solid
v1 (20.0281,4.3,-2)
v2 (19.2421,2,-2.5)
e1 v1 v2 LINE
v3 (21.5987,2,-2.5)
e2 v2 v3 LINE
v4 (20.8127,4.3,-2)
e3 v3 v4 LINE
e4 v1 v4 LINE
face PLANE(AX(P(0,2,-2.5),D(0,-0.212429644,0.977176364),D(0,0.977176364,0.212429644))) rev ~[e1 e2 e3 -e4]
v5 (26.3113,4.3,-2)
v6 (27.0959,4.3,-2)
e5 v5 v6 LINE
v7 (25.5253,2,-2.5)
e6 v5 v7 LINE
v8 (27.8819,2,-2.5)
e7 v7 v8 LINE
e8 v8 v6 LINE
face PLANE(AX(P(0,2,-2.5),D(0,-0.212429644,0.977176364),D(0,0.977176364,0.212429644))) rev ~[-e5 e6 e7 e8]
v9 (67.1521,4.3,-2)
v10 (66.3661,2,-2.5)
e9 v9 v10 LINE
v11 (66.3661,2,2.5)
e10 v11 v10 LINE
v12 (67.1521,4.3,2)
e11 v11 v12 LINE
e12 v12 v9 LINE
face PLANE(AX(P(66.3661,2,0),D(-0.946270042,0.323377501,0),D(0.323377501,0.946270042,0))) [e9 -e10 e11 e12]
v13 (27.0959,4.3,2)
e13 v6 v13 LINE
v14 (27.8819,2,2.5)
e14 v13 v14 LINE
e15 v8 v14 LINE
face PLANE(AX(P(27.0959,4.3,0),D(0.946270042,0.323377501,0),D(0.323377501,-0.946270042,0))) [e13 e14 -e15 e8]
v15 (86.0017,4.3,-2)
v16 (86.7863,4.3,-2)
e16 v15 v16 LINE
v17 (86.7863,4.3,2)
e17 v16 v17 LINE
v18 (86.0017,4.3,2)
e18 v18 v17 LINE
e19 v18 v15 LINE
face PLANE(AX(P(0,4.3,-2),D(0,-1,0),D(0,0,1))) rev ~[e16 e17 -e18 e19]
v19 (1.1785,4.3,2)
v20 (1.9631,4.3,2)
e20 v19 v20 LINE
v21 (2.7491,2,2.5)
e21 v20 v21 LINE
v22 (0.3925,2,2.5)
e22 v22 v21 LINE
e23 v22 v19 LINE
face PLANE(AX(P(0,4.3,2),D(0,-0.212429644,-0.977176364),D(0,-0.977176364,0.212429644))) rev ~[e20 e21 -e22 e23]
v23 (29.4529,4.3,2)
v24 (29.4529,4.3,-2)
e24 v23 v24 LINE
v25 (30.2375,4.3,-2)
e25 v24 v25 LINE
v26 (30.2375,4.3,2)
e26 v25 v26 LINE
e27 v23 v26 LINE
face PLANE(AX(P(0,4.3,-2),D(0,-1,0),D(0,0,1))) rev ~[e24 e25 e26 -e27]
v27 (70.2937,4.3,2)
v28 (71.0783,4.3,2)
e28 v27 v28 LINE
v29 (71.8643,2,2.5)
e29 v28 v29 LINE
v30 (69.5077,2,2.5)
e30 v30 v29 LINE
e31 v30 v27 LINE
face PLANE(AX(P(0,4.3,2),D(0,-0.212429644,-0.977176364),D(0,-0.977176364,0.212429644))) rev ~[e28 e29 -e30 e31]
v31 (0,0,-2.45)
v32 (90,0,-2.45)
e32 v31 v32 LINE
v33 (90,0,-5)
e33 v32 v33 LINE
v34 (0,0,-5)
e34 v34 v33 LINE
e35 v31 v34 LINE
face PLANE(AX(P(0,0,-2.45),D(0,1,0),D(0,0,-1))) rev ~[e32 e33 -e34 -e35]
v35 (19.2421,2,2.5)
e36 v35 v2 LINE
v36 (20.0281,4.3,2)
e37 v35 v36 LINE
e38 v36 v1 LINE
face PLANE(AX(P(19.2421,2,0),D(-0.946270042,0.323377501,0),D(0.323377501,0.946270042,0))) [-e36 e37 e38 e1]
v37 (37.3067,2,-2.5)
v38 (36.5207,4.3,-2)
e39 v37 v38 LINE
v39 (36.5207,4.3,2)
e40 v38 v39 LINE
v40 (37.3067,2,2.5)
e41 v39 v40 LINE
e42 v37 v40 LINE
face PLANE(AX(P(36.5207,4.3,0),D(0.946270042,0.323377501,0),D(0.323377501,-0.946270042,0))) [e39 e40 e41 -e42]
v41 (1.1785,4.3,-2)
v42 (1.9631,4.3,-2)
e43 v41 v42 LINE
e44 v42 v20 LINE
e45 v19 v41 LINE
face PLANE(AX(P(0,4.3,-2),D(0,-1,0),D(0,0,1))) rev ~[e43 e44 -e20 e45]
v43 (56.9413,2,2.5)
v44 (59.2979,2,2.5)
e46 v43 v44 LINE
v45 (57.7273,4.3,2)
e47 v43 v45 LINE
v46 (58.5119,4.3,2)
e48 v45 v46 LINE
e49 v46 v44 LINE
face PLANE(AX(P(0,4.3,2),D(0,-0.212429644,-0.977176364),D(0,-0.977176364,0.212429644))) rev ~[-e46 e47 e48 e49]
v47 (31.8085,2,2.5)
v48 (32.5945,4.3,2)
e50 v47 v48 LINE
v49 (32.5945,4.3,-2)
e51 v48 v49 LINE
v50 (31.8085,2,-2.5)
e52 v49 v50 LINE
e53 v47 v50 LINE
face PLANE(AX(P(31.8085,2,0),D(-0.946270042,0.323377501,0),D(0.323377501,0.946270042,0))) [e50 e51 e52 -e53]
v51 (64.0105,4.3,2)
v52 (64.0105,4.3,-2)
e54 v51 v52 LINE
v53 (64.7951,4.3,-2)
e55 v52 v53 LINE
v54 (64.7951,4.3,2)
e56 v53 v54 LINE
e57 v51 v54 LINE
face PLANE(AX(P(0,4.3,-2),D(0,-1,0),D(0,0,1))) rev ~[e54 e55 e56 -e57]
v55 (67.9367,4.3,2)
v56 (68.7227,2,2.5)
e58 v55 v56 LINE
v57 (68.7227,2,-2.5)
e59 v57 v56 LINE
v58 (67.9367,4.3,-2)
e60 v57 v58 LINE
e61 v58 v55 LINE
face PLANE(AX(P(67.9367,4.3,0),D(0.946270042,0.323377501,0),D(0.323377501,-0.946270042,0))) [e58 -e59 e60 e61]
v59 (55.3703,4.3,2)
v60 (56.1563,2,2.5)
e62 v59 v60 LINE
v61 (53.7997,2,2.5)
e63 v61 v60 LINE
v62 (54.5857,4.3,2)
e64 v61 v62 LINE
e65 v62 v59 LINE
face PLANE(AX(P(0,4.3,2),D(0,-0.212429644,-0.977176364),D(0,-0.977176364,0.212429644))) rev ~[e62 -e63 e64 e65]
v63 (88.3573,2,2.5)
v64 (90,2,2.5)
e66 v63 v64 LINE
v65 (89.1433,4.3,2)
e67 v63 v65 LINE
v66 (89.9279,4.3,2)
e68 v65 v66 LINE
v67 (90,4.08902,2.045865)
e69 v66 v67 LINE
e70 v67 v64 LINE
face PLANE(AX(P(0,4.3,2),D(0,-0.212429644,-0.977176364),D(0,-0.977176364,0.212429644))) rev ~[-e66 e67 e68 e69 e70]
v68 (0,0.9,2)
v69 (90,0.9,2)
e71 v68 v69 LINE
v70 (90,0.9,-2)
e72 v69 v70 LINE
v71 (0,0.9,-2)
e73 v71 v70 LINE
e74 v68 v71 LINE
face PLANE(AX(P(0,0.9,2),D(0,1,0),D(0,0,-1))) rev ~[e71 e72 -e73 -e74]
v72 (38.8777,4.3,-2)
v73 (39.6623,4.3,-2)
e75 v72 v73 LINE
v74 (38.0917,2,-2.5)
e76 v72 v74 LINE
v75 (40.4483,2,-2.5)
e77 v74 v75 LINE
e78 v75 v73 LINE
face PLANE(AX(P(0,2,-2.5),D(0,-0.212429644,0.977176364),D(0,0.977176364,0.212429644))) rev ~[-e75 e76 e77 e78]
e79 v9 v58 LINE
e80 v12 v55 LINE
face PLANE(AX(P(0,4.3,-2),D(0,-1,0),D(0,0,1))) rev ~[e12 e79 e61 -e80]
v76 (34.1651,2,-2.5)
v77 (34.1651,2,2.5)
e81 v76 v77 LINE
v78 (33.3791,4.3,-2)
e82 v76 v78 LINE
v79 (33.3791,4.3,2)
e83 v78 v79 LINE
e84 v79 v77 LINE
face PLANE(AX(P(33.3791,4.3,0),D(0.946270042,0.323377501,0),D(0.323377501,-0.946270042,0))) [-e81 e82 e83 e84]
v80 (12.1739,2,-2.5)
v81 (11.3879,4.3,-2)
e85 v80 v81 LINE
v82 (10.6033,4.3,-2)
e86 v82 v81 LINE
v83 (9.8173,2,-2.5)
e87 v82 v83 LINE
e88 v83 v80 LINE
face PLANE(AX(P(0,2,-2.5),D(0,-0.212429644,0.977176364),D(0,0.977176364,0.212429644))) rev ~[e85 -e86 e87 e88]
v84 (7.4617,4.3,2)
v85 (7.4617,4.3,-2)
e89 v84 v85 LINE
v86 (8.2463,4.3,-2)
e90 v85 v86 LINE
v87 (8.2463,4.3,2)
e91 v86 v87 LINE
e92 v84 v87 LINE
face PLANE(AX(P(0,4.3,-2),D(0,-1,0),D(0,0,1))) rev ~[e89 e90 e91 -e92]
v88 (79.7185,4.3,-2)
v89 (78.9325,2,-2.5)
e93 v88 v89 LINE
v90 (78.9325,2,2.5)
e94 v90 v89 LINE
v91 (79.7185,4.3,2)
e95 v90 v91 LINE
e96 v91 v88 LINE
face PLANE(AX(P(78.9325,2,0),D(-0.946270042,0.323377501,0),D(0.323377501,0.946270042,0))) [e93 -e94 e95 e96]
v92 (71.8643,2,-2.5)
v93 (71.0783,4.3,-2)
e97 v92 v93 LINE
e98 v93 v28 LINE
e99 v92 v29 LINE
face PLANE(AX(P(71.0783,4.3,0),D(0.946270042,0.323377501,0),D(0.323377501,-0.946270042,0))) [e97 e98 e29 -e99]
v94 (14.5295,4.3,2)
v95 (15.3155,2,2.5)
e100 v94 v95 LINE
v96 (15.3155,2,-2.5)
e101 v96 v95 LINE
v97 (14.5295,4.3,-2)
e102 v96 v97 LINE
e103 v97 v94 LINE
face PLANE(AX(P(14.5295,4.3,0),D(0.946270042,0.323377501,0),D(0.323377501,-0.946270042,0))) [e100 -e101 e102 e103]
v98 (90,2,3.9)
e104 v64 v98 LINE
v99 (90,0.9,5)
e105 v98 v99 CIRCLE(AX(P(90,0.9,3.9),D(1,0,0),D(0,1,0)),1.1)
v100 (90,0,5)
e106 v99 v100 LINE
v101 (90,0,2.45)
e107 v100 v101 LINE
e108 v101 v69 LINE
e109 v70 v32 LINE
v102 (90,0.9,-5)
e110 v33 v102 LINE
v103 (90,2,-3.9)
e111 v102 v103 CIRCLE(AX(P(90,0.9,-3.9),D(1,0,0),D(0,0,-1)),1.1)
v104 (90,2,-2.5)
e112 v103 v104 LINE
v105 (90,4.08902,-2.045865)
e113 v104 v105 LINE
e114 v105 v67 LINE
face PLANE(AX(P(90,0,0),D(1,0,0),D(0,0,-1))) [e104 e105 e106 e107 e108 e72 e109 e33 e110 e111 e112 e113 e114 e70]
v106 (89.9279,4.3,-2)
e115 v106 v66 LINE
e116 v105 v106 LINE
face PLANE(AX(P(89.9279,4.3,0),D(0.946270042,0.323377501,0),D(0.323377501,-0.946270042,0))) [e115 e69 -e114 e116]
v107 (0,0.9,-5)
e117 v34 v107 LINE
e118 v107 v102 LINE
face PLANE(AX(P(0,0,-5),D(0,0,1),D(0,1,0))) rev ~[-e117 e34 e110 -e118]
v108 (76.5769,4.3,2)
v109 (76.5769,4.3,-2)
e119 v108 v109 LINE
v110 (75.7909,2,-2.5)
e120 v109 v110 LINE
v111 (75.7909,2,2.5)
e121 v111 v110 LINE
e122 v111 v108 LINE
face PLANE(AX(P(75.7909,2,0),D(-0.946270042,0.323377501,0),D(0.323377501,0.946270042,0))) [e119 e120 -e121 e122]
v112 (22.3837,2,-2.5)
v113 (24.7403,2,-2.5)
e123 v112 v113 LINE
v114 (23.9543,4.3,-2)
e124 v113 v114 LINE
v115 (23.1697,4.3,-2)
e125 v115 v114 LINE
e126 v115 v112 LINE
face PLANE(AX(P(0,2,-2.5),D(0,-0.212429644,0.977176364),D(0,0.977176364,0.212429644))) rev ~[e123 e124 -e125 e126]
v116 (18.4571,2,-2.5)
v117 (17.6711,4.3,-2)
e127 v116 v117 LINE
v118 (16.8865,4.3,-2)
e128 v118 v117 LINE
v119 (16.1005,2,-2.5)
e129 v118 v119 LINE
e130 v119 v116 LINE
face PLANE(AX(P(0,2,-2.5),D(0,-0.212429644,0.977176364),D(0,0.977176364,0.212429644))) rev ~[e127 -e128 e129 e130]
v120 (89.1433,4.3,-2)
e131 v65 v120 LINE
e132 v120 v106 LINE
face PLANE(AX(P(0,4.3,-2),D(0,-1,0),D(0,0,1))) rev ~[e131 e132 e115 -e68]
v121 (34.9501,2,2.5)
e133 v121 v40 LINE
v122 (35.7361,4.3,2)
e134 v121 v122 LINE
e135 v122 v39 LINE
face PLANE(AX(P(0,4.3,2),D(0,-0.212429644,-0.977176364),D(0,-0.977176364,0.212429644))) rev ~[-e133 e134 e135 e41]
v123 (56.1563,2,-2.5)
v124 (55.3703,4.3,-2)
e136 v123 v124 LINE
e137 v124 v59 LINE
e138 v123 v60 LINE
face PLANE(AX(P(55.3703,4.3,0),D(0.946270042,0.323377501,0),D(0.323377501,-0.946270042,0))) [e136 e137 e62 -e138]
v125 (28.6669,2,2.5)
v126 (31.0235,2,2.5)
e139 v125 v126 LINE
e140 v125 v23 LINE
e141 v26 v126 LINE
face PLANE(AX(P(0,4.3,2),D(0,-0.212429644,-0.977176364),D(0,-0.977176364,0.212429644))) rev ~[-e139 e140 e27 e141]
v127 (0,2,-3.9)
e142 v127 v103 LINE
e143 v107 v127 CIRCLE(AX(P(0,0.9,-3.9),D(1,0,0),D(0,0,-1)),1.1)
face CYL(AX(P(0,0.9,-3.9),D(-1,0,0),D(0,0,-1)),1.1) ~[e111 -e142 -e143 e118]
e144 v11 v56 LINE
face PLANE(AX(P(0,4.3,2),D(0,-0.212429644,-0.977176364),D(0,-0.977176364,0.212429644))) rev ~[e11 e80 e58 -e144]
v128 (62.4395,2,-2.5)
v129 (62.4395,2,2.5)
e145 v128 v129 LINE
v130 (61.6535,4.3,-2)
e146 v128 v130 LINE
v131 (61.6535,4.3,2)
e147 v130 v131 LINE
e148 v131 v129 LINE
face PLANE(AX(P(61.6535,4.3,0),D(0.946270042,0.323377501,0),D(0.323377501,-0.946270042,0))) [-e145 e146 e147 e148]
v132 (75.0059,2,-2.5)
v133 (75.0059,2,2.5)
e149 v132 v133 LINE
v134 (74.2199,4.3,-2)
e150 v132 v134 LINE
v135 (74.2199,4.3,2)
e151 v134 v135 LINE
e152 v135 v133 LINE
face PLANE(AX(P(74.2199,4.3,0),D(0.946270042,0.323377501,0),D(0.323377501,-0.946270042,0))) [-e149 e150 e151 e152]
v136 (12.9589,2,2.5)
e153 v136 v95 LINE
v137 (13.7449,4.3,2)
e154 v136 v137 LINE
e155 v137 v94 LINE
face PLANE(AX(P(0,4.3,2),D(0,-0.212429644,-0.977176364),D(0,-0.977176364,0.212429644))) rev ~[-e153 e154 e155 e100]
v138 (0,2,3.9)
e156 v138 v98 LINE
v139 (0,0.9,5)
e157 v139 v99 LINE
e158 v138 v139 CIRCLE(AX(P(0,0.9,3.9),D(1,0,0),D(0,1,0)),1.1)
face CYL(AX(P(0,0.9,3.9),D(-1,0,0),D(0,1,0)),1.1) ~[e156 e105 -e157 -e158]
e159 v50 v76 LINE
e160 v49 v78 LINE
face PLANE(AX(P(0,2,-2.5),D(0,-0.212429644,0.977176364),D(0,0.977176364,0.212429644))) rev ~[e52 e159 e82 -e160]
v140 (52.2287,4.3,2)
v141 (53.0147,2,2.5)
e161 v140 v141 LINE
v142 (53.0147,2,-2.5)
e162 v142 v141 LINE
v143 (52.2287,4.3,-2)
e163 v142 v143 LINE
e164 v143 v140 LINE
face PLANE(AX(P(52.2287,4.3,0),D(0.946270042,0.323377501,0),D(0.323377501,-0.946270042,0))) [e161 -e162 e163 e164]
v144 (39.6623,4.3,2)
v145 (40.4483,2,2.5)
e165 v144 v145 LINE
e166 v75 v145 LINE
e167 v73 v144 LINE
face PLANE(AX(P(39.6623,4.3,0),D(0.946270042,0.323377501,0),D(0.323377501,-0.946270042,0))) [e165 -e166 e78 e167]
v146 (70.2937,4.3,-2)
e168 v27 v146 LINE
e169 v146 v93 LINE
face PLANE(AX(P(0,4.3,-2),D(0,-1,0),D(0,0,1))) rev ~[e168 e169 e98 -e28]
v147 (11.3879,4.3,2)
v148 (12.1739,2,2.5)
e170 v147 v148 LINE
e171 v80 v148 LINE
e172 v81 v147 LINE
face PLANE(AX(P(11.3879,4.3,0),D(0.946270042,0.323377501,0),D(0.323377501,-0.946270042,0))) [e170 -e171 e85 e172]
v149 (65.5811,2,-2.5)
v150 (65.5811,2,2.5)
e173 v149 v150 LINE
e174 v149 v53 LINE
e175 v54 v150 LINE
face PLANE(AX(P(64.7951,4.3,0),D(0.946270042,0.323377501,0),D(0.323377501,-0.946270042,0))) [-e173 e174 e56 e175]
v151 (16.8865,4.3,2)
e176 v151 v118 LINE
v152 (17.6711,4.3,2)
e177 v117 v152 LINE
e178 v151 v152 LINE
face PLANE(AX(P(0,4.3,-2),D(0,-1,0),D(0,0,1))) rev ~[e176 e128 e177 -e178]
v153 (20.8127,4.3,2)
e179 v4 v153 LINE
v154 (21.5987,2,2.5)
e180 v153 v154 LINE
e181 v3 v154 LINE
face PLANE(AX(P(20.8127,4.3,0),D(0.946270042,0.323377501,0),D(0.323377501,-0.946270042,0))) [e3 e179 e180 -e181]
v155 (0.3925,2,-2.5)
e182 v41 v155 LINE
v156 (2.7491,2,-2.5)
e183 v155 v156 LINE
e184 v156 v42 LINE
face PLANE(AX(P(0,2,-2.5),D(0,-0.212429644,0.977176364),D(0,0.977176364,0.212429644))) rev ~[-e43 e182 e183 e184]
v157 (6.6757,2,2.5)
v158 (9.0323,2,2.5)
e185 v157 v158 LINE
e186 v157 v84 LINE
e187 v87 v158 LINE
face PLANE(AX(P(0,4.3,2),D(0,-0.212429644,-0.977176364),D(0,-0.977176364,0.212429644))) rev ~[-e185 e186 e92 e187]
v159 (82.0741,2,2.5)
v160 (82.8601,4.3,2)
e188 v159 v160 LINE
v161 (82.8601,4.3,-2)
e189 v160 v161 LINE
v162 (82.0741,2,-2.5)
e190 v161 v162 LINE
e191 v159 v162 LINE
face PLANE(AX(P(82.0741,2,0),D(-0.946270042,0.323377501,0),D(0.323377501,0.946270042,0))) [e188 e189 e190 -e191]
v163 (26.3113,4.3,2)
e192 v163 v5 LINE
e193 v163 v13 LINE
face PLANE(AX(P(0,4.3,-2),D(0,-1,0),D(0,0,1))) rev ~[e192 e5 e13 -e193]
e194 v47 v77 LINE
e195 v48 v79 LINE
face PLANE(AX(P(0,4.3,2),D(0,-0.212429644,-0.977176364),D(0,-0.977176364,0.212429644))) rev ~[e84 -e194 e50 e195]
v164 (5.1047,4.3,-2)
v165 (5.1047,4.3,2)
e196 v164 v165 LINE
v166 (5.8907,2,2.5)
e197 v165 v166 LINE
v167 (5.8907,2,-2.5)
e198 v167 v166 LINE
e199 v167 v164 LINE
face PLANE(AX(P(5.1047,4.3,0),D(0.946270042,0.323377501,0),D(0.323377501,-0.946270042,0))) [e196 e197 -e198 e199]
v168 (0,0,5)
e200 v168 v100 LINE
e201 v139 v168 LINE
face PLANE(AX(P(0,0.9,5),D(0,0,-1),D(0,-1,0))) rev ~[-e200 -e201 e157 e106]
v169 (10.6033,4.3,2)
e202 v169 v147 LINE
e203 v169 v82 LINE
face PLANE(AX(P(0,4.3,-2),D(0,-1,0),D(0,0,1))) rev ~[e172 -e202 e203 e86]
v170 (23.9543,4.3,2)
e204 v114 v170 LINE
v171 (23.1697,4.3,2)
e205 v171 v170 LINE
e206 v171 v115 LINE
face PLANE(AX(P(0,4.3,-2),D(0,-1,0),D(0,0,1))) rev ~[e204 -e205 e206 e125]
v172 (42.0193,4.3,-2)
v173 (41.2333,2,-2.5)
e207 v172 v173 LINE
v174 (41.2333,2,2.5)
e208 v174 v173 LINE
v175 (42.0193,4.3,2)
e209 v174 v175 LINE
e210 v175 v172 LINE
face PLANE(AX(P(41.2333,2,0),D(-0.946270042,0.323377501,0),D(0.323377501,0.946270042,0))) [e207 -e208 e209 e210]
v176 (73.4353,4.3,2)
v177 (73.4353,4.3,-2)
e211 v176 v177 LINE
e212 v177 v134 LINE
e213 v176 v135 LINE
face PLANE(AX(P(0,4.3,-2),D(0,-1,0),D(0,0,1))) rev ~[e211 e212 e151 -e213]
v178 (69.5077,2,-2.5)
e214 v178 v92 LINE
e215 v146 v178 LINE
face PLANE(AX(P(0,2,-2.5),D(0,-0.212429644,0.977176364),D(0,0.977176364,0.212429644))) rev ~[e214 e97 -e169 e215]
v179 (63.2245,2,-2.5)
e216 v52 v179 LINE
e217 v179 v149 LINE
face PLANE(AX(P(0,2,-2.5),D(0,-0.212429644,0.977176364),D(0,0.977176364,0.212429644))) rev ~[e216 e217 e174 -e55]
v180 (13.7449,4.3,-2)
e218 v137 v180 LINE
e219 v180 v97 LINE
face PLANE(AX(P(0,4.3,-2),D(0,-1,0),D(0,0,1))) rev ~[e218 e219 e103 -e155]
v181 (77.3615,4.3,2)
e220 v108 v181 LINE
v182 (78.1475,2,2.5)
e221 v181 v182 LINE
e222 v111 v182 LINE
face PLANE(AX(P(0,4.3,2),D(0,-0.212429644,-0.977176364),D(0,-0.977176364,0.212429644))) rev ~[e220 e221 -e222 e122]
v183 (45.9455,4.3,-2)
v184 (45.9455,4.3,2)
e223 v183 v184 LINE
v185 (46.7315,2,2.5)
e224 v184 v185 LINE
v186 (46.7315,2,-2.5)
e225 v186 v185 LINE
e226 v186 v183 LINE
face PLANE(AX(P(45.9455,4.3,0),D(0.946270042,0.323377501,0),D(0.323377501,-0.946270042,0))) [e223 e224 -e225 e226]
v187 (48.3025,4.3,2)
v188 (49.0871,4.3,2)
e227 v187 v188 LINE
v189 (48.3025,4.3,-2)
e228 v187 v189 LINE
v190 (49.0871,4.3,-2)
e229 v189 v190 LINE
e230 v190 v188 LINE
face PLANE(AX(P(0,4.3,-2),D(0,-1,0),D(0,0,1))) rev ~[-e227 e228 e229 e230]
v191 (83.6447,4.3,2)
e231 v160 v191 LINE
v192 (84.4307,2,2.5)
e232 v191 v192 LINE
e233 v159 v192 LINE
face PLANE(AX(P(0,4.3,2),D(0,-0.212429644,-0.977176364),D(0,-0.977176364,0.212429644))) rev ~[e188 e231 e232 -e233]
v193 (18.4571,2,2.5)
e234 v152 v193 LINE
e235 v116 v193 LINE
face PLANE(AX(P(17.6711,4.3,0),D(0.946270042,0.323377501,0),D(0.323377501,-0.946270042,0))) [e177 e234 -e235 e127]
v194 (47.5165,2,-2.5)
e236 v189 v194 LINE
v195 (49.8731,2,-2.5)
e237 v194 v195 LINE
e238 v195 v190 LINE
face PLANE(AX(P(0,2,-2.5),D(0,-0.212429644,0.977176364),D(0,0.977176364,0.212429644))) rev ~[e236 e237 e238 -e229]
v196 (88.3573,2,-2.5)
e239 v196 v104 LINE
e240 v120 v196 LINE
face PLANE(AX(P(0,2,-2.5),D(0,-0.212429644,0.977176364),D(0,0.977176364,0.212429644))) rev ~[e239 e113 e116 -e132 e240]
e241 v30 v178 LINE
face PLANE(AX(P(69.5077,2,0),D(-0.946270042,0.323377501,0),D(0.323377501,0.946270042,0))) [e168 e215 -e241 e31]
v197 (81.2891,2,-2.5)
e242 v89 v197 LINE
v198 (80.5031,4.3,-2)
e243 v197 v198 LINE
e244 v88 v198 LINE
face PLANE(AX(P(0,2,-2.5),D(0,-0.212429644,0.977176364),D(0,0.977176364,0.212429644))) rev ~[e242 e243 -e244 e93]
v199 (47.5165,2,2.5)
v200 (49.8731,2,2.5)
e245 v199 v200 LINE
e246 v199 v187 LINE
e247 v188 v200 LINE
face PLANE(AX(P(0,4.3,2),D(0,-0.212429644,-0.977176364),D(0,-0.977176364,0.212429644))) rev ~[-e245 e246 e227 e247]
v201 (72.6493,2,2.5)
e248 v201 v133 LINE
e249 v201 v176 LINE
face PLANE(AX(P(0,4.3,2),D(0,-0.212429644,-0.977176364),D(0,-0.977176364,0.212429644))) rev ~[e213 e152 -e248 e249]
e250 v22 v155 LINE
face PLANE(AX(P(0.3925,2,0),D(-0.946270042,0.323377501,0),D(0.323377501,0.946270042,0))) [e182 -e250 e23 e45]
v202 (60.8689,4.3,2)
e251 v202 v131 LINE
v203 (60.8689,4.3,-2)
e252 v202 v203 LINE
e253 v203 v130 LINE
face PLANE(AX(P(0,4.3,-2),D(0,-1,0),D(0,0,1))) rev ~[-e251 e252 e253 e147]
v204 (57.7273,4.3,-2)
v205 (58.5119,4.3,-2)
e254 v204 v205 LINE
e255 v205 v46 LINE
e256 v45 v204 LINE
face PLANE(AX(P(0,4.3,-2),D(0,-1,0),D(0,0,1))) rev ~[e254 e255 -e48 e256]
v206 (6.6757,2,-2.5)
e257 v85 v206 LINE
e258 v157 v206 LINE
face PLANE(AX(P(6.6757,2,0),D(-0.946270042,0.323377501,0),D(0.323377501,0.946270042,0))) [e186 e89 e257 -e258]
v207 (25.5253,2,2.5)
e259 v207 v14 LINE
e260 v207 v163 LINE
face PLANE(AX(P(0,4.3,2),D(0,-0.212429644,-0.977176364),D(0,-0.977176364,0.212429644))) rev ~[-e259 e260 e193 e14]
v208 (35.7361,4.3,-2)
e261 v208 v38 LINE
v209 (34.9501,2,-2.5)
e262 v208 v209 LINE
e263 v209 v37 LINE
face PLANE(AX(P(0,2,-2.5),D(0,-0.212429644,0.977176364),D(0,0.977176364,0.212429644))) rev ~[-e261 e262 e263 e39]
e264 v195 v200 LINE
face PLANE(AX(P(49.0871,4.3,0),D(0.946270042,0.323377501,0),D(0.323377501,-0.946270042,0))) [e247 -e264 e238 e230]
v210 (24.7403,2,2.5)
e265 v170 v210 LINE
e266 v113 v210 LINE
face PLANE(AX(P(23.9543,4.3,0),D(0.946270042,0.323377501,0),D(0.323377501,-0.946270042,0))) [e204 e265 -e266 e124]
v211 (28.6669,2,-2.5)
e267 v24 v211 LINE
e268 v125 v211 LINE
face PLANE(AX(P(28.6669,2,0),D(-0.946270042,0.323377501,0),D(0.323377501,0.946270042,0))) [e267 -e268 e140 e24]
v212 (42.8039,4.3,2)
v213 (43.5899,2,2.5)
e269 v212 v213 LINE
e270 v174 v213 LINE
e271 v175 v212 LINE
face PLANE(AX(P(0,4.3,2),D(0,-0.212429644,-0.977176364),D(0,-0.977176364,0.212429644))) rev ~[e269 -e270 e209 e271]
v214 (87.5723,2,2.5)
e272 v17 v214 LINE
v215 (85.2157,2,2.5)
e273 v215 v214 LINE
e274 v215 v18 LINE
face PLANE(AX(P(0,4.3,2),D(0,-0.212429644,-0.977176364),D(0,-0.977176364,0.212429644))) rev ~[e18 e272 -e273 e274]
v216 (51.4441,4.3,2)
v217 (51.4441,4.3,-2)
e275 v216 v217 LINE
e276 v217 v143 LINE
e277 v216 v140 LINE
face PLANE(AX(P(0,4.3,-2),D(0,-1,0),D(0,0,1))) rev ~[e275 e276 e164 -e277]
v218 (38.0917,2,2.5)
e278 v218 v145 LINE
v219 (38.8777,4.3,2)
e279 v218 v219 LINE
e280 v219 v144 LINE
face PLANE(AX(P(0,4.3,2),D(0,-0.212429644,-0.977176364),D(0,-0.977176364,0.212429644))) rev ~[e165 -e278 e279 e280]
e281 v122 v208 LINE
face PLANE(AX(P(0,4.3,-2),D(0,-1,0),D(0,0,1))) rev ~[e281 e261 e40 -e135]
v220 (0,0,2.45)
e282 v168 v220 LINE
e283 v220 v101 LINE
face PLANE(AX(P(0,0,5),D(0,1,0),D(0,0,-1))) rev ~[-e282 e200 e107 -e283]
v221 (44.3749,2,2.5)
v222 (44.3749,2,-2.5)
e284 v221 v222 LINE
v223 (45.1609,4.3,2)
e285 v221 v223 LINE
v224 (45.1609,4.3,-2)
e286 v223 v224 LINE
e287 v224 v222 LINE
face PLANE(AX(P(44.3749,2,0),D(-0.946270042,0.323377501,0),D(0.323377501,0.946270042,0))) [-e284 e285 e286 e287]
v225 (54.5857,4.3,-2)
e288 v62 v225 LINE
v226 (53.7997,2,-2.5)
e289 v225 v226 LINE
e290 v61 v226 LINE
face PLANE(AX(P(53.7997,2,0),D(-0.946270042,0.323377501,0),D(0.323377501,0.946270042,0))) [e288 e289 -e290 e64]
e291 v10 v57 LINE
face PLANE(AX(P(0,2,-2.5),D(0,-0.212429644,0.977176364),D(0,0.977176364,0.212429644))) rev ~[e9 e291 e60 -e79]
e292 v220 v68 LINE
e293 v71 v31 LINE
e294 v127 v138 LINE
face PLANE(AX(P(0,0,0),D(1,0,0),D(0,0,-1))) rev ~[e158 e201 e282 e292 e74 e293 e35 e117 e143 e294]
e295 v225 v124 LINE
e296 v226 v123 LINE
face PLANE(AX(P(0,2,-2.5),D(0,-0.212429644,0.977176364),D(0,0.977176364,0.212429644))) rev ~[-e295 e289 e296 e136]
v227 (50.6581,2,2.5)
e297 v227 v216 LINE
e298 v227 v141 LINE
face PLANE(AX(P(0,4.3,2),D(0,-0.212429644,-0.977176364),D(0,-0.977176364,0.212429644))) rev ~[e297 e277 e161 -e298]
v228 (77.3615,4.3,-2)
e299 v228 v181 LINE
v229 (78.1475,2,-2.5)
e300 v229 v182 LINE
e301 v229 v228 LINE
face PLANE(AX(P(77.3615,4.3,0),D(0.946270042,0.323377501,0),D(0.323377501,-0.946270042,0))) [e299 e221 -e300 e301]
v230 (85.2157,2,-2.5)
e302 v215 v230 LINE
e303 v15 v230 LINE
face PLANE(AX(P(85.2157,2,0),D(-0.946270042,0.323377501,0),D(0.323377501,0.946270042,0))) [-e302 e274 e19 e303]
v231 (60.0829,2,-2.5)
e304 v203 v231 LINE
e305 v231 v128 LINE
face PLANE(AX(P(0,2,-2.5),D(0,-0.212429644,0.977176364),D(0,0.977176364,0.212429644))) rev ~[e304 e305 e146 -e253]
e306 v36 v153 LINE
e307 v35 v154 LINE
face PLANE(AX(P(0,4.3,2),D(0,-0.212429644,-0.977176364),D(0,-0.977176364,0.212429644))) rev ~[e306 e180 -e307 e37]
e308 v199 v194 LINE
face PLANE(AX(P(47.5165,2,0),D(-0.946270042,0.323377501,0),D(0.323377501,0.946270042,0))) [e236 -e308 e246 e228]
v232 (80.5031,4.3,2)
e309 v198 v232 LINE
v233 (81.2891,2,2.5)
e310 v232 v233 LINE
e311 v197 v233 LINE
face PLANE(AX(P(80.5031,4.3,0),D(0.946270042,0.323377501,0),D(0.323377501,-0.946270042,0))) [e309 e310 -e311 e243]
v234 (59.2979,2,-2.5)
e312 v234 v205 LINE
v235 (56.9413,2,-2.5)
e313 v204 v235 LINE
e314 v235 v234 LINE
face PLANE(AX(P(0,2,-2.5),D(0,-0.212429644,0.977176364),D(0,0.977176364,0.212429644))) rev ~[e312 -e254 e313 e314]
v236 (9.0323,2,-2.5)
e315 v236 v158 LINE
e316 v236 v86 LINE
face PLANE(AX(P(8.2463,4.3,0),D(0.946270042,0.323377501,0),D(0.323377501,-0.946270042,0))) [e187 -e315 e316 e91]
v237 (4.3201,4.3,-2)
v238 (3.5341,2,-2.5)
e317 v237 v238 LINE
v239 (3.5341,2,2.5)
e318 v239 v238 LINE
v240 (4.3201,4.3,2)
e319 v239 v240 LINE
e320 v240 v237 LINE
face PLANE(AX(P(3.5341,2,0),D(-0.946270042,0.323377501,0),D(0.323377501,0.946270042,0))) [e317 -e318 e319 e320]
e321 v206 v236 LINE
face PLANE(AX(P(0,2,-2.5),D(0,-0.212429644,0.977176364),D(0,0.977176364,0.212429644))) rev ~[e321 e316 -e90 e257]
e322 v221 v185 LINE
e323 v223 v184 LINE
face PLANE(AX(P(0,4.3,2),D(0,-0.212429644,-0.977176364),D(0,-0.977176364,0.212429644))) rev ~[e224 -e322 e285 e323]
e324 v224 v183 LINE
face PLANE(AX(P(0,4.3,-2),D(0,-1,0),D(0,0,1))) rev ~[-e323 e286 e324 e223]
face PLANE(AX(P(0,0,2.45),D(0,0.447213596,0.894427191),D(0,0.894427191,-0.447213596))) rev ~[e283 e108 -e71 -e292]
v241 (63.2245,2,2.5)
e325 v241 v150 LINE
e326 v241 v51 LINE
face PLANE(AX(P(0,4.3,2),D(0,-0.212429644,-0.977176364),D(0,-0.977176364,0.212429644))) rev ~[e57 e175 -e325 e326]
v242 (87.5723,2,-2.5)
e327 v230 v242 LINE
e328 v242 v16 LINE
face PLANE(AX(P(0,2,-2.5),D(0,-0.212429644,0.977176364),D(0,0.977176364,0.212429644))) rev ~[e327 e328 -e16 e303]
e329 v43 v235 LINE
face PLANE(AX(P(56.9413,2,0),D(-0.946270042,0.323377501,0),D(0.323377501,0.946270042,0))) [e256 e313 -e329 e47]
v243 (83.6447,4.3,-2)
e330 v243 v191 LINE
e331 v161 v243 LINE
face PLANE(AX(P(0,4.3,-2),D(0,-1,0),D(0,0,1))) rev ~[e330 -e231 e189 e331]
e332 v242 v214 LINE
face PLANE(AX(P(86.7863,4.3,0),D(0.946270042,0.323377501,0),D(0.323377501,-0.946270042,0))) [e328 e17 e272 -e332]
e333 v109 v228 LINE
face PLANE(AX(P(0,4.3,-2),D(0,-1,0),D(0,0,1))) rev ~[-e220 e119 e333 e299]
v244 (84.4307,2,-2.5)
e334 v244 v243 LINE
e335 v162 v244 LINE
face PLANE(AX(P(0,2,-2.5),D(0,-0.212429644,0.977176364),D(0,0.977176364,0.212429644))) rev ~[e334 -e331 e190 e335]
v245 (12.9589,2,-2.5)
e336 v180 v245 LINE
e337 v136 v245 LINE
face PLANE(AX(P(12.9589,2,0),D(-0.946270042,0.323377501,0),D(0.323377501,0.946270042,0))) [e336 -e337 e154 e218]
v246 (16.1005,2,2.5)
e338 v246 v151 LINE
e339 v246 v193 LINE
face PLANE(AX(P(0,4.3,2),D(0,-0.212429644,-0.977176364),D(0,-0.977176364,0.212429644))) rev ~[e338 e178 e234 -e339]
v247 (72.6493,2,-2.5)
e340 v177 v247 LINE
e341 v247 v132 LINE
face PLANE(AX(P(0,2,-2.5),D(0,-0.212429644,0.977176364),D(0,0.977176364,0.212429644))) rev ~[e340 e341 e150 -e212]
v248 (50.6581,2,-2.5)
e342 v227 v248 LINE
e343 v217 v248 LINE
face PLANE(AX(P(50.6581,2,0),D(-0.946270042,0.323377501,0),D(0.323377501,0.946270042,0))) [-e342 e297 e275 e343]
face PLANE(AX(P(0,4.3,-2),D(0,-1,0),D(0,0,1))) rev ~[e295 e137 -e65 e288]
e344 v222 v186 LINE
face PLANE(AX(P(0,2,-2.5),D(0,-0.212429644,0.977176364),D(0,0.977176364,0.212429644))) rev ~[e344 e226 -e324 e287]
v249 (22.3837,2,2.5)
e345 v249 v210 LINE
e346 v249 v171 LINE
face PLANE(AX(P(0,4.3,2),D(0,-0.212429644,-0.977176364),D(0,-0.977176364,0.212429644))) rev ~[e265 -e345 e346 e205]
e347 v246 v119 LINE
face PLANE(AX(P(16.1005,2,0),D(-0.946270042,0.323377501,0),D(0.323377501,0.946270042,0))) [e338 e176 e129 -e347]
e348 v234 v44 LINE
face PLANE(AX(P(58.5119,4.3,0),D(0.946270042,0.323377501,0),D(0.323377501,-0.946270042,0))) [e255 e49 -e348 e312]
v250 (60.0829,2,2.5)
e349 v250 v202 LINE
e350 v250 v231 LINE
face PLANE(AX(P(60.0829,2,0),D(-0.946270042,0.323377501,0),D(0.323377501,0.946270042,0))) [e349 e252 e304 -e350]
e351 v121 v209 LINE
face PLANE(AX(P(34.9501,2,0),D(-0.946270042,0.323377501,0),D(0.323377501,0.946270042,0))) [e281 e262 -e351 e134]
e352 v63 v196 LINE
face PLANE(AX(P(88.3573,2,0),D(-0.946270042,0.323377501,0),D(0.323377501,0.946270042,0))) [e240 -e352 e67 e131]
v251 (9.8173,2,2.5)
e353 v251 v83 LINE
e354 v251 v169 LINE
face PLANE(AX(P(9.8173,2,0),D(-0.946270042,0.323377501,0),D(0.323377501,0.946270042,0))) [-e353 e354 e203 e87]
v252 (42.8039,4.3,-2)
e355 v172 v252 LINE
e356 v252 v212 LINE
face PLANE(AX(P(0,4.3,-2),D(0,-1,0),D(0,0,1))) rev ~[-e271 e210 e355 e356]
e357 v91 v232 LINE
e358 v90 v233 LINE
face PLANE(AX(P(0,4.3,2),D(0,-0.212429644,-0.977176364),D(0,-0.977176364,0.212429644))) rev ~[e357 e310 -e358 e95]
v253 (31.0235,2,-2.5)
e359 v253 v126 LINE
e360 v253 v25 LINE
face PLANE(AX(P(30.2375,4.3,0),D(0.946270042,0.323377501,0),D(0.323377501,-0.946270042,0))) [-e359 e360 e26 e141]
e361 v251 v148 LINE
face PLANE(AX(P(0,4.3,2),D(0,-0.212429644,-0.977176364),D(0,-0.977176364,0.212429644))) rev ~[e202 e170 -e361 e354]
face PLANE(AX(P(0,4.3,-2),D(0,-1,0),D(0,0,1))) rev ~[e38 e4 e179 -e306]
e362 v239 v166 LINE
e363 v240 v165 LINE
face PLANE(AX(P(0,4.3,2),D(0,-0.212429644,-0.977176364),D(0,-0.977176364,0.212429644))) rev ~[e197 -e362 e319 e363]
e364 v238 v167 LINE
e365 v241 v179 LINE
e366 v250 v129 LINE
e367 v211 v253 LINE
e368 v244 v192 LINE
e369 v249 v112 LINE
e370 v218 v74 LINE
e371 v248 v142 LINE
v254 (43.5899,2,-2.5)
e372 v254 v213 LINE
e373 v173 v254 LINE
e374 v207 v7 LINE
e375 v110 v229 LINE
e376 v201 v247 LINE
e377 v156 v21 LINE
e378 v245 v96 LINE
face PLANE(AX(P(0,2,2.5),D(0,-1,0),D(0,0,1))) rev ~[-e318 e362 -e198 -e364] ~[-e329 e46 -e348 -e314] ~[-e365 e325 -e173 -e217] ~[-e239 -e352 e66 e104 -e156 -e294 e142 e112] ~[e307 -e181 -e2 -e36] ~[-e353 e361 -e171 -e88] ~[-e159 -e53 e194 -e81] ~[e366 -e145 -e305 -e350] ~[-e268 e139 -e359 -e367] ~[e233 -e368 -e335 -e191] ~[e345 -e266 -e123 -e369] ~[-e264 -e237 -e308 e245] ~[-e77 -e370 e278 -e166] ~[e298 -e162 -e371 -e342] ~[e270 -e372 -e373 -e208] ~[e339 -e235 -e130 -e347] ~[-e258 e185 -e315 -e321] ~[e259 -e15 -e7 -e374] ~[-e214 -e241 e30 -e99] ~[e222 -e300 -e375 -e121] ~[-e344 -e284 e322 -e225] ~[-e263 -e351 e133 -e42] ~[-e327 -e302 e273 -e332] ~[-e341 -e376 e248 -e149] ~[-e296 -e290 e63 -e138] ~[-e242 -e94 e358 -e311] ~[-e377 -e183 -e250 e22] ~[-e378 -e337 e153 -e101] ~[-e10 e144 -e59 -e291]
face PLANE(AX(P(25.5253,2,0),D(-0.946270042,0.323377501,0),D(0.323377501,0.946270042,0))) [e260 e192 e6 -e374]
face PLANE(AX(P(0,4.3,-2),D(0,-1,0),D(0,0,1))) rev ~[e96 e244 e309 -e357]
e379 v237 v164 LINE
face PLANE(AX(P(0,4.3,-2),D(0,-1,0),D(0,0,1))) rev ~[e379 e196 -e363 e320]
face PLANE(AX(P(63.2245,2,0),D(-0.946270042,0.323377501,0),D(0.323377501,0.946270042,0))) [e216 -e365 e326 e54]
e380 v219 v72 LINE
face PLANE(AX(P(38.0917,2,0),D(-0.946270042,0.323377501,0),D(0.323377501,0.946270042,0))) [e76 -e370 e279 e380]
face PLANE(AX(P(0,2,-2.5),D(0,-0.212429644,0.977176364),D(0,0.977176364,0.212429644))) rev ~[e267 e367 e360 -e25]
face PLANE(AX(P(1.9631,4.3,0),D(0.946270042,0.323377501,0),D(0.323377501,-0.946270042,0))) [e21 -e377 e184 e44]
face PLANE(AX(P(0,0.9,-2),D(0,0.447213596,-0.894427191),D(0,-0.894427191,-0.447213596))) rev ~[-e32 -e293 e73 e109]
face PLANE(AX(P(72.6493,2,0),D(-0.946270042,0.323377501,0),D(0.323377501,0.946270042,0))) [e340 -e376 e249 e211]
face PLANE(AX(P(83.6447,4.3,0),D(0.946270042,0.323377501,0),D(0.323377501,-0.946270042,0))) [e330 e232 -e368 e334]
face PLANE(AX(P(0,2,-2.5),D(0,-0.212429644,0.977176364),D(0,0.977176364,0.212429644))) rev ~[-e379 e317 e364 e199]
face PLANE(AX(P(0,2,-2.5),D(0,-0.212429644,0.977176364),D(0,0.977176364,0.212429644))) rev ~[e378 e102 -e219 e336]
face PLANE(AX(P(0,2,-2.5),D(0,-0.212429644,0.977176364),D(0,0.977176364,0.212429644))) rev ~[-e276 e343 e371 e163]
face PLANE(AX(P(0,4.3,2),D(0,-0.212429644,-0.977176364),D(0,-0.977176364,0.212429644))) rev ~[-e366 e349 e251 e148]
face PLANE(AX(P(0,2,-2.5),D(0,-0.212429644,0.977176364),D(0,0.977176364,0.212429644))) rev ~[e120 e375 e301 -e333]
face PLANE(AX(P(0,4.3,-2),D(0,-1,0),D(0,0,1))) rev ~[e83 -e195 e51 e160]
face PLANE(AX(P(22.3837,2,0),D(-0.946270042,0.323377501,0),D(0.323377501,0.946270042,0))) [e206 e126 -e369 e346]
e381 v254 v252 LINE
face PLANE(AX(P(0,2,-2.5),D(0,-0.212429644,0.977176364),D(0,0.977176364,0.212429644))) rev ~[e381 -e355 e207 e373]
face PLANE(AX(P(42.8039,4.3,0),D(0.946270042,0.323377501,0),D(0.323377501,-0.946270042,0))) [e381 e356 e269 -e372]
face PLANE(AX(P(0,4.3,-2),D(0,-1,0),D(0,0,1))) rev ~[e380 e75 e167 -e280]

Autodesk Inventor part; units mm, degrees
ref_plane "YZ Plane" through (0, 0, 0) normal (1, 0, 0) x (0, 1, 0)
ref_plane "XZ Plane" through (0, 0, 0) normal (0, 1, 0) x (-1, 0, 0)
ref_plane "XY Plane" through (0, 0, 0) normal (0, 0, 1) x (1, 0, 0)
sketch "Sketch_1" plane through (0, 0, 0) normal (1, 0, 0) x (0, 0, -1)
  line L0 (-5, 0.9) -> (-5, 0)
  line L1 (-5, 0) -> (-2.45, 0)
  line L2 (-2.45, 0) -> (-2, 0.9)
  line L3 (-2, 0.9) -> (2, 0.9)
  line L4 (2, 0.9) -> (2.45, 0)
  line L5 (2.45, 0) -> (5, 0)
  line L6 (5, 0) -> (5, 0.9)
  arc A0 (5, 0.9) -> (3.9, 2) centre (3.9, 0.9) ccw
  line L7 (3.9, 2) -> (2.5, 2)
  line L8 (2.5, 2) -> (2, 4.3)
  line L9 (2, 4.3) -> (-2, 4.3)
  line L10 (-2, 4.3) -> (-2.5, 2)
  line L11 (-2.5, 2) -> (-3.9, 2)
  arc A1 (-3.9, 2) -> (-5, 0.9) centre (-3.9, 0.9) ccw
extrude "Extrusion1" add sketch "Sketch_1" along normal blind 90
sketch "Sketch_5" plane through (0, 0, 0) normal (0, 0, 1) x (1, 0, 0)
  line L0 (-1.1785, 4.3) -> (-0.3925, 2)
  line L1 (-0.3925, 2) -> (0.3925, 2)
  line L2 (0.3925, 2) -> (1.1785, 4.3)
  line L3 (1.1785, 4.3) -> (-1.1785, 4.3)
extrude "Extrusion2" cut sketch "Sketch_5" along normal mid plane 5
pattern_linear "Rectangular Pattern1" count 641 spacing 3.1416 along (1, 0, 0) of "Extrusion2"
properties part number "DR1-2000_On" material "PPS プラスチック"
